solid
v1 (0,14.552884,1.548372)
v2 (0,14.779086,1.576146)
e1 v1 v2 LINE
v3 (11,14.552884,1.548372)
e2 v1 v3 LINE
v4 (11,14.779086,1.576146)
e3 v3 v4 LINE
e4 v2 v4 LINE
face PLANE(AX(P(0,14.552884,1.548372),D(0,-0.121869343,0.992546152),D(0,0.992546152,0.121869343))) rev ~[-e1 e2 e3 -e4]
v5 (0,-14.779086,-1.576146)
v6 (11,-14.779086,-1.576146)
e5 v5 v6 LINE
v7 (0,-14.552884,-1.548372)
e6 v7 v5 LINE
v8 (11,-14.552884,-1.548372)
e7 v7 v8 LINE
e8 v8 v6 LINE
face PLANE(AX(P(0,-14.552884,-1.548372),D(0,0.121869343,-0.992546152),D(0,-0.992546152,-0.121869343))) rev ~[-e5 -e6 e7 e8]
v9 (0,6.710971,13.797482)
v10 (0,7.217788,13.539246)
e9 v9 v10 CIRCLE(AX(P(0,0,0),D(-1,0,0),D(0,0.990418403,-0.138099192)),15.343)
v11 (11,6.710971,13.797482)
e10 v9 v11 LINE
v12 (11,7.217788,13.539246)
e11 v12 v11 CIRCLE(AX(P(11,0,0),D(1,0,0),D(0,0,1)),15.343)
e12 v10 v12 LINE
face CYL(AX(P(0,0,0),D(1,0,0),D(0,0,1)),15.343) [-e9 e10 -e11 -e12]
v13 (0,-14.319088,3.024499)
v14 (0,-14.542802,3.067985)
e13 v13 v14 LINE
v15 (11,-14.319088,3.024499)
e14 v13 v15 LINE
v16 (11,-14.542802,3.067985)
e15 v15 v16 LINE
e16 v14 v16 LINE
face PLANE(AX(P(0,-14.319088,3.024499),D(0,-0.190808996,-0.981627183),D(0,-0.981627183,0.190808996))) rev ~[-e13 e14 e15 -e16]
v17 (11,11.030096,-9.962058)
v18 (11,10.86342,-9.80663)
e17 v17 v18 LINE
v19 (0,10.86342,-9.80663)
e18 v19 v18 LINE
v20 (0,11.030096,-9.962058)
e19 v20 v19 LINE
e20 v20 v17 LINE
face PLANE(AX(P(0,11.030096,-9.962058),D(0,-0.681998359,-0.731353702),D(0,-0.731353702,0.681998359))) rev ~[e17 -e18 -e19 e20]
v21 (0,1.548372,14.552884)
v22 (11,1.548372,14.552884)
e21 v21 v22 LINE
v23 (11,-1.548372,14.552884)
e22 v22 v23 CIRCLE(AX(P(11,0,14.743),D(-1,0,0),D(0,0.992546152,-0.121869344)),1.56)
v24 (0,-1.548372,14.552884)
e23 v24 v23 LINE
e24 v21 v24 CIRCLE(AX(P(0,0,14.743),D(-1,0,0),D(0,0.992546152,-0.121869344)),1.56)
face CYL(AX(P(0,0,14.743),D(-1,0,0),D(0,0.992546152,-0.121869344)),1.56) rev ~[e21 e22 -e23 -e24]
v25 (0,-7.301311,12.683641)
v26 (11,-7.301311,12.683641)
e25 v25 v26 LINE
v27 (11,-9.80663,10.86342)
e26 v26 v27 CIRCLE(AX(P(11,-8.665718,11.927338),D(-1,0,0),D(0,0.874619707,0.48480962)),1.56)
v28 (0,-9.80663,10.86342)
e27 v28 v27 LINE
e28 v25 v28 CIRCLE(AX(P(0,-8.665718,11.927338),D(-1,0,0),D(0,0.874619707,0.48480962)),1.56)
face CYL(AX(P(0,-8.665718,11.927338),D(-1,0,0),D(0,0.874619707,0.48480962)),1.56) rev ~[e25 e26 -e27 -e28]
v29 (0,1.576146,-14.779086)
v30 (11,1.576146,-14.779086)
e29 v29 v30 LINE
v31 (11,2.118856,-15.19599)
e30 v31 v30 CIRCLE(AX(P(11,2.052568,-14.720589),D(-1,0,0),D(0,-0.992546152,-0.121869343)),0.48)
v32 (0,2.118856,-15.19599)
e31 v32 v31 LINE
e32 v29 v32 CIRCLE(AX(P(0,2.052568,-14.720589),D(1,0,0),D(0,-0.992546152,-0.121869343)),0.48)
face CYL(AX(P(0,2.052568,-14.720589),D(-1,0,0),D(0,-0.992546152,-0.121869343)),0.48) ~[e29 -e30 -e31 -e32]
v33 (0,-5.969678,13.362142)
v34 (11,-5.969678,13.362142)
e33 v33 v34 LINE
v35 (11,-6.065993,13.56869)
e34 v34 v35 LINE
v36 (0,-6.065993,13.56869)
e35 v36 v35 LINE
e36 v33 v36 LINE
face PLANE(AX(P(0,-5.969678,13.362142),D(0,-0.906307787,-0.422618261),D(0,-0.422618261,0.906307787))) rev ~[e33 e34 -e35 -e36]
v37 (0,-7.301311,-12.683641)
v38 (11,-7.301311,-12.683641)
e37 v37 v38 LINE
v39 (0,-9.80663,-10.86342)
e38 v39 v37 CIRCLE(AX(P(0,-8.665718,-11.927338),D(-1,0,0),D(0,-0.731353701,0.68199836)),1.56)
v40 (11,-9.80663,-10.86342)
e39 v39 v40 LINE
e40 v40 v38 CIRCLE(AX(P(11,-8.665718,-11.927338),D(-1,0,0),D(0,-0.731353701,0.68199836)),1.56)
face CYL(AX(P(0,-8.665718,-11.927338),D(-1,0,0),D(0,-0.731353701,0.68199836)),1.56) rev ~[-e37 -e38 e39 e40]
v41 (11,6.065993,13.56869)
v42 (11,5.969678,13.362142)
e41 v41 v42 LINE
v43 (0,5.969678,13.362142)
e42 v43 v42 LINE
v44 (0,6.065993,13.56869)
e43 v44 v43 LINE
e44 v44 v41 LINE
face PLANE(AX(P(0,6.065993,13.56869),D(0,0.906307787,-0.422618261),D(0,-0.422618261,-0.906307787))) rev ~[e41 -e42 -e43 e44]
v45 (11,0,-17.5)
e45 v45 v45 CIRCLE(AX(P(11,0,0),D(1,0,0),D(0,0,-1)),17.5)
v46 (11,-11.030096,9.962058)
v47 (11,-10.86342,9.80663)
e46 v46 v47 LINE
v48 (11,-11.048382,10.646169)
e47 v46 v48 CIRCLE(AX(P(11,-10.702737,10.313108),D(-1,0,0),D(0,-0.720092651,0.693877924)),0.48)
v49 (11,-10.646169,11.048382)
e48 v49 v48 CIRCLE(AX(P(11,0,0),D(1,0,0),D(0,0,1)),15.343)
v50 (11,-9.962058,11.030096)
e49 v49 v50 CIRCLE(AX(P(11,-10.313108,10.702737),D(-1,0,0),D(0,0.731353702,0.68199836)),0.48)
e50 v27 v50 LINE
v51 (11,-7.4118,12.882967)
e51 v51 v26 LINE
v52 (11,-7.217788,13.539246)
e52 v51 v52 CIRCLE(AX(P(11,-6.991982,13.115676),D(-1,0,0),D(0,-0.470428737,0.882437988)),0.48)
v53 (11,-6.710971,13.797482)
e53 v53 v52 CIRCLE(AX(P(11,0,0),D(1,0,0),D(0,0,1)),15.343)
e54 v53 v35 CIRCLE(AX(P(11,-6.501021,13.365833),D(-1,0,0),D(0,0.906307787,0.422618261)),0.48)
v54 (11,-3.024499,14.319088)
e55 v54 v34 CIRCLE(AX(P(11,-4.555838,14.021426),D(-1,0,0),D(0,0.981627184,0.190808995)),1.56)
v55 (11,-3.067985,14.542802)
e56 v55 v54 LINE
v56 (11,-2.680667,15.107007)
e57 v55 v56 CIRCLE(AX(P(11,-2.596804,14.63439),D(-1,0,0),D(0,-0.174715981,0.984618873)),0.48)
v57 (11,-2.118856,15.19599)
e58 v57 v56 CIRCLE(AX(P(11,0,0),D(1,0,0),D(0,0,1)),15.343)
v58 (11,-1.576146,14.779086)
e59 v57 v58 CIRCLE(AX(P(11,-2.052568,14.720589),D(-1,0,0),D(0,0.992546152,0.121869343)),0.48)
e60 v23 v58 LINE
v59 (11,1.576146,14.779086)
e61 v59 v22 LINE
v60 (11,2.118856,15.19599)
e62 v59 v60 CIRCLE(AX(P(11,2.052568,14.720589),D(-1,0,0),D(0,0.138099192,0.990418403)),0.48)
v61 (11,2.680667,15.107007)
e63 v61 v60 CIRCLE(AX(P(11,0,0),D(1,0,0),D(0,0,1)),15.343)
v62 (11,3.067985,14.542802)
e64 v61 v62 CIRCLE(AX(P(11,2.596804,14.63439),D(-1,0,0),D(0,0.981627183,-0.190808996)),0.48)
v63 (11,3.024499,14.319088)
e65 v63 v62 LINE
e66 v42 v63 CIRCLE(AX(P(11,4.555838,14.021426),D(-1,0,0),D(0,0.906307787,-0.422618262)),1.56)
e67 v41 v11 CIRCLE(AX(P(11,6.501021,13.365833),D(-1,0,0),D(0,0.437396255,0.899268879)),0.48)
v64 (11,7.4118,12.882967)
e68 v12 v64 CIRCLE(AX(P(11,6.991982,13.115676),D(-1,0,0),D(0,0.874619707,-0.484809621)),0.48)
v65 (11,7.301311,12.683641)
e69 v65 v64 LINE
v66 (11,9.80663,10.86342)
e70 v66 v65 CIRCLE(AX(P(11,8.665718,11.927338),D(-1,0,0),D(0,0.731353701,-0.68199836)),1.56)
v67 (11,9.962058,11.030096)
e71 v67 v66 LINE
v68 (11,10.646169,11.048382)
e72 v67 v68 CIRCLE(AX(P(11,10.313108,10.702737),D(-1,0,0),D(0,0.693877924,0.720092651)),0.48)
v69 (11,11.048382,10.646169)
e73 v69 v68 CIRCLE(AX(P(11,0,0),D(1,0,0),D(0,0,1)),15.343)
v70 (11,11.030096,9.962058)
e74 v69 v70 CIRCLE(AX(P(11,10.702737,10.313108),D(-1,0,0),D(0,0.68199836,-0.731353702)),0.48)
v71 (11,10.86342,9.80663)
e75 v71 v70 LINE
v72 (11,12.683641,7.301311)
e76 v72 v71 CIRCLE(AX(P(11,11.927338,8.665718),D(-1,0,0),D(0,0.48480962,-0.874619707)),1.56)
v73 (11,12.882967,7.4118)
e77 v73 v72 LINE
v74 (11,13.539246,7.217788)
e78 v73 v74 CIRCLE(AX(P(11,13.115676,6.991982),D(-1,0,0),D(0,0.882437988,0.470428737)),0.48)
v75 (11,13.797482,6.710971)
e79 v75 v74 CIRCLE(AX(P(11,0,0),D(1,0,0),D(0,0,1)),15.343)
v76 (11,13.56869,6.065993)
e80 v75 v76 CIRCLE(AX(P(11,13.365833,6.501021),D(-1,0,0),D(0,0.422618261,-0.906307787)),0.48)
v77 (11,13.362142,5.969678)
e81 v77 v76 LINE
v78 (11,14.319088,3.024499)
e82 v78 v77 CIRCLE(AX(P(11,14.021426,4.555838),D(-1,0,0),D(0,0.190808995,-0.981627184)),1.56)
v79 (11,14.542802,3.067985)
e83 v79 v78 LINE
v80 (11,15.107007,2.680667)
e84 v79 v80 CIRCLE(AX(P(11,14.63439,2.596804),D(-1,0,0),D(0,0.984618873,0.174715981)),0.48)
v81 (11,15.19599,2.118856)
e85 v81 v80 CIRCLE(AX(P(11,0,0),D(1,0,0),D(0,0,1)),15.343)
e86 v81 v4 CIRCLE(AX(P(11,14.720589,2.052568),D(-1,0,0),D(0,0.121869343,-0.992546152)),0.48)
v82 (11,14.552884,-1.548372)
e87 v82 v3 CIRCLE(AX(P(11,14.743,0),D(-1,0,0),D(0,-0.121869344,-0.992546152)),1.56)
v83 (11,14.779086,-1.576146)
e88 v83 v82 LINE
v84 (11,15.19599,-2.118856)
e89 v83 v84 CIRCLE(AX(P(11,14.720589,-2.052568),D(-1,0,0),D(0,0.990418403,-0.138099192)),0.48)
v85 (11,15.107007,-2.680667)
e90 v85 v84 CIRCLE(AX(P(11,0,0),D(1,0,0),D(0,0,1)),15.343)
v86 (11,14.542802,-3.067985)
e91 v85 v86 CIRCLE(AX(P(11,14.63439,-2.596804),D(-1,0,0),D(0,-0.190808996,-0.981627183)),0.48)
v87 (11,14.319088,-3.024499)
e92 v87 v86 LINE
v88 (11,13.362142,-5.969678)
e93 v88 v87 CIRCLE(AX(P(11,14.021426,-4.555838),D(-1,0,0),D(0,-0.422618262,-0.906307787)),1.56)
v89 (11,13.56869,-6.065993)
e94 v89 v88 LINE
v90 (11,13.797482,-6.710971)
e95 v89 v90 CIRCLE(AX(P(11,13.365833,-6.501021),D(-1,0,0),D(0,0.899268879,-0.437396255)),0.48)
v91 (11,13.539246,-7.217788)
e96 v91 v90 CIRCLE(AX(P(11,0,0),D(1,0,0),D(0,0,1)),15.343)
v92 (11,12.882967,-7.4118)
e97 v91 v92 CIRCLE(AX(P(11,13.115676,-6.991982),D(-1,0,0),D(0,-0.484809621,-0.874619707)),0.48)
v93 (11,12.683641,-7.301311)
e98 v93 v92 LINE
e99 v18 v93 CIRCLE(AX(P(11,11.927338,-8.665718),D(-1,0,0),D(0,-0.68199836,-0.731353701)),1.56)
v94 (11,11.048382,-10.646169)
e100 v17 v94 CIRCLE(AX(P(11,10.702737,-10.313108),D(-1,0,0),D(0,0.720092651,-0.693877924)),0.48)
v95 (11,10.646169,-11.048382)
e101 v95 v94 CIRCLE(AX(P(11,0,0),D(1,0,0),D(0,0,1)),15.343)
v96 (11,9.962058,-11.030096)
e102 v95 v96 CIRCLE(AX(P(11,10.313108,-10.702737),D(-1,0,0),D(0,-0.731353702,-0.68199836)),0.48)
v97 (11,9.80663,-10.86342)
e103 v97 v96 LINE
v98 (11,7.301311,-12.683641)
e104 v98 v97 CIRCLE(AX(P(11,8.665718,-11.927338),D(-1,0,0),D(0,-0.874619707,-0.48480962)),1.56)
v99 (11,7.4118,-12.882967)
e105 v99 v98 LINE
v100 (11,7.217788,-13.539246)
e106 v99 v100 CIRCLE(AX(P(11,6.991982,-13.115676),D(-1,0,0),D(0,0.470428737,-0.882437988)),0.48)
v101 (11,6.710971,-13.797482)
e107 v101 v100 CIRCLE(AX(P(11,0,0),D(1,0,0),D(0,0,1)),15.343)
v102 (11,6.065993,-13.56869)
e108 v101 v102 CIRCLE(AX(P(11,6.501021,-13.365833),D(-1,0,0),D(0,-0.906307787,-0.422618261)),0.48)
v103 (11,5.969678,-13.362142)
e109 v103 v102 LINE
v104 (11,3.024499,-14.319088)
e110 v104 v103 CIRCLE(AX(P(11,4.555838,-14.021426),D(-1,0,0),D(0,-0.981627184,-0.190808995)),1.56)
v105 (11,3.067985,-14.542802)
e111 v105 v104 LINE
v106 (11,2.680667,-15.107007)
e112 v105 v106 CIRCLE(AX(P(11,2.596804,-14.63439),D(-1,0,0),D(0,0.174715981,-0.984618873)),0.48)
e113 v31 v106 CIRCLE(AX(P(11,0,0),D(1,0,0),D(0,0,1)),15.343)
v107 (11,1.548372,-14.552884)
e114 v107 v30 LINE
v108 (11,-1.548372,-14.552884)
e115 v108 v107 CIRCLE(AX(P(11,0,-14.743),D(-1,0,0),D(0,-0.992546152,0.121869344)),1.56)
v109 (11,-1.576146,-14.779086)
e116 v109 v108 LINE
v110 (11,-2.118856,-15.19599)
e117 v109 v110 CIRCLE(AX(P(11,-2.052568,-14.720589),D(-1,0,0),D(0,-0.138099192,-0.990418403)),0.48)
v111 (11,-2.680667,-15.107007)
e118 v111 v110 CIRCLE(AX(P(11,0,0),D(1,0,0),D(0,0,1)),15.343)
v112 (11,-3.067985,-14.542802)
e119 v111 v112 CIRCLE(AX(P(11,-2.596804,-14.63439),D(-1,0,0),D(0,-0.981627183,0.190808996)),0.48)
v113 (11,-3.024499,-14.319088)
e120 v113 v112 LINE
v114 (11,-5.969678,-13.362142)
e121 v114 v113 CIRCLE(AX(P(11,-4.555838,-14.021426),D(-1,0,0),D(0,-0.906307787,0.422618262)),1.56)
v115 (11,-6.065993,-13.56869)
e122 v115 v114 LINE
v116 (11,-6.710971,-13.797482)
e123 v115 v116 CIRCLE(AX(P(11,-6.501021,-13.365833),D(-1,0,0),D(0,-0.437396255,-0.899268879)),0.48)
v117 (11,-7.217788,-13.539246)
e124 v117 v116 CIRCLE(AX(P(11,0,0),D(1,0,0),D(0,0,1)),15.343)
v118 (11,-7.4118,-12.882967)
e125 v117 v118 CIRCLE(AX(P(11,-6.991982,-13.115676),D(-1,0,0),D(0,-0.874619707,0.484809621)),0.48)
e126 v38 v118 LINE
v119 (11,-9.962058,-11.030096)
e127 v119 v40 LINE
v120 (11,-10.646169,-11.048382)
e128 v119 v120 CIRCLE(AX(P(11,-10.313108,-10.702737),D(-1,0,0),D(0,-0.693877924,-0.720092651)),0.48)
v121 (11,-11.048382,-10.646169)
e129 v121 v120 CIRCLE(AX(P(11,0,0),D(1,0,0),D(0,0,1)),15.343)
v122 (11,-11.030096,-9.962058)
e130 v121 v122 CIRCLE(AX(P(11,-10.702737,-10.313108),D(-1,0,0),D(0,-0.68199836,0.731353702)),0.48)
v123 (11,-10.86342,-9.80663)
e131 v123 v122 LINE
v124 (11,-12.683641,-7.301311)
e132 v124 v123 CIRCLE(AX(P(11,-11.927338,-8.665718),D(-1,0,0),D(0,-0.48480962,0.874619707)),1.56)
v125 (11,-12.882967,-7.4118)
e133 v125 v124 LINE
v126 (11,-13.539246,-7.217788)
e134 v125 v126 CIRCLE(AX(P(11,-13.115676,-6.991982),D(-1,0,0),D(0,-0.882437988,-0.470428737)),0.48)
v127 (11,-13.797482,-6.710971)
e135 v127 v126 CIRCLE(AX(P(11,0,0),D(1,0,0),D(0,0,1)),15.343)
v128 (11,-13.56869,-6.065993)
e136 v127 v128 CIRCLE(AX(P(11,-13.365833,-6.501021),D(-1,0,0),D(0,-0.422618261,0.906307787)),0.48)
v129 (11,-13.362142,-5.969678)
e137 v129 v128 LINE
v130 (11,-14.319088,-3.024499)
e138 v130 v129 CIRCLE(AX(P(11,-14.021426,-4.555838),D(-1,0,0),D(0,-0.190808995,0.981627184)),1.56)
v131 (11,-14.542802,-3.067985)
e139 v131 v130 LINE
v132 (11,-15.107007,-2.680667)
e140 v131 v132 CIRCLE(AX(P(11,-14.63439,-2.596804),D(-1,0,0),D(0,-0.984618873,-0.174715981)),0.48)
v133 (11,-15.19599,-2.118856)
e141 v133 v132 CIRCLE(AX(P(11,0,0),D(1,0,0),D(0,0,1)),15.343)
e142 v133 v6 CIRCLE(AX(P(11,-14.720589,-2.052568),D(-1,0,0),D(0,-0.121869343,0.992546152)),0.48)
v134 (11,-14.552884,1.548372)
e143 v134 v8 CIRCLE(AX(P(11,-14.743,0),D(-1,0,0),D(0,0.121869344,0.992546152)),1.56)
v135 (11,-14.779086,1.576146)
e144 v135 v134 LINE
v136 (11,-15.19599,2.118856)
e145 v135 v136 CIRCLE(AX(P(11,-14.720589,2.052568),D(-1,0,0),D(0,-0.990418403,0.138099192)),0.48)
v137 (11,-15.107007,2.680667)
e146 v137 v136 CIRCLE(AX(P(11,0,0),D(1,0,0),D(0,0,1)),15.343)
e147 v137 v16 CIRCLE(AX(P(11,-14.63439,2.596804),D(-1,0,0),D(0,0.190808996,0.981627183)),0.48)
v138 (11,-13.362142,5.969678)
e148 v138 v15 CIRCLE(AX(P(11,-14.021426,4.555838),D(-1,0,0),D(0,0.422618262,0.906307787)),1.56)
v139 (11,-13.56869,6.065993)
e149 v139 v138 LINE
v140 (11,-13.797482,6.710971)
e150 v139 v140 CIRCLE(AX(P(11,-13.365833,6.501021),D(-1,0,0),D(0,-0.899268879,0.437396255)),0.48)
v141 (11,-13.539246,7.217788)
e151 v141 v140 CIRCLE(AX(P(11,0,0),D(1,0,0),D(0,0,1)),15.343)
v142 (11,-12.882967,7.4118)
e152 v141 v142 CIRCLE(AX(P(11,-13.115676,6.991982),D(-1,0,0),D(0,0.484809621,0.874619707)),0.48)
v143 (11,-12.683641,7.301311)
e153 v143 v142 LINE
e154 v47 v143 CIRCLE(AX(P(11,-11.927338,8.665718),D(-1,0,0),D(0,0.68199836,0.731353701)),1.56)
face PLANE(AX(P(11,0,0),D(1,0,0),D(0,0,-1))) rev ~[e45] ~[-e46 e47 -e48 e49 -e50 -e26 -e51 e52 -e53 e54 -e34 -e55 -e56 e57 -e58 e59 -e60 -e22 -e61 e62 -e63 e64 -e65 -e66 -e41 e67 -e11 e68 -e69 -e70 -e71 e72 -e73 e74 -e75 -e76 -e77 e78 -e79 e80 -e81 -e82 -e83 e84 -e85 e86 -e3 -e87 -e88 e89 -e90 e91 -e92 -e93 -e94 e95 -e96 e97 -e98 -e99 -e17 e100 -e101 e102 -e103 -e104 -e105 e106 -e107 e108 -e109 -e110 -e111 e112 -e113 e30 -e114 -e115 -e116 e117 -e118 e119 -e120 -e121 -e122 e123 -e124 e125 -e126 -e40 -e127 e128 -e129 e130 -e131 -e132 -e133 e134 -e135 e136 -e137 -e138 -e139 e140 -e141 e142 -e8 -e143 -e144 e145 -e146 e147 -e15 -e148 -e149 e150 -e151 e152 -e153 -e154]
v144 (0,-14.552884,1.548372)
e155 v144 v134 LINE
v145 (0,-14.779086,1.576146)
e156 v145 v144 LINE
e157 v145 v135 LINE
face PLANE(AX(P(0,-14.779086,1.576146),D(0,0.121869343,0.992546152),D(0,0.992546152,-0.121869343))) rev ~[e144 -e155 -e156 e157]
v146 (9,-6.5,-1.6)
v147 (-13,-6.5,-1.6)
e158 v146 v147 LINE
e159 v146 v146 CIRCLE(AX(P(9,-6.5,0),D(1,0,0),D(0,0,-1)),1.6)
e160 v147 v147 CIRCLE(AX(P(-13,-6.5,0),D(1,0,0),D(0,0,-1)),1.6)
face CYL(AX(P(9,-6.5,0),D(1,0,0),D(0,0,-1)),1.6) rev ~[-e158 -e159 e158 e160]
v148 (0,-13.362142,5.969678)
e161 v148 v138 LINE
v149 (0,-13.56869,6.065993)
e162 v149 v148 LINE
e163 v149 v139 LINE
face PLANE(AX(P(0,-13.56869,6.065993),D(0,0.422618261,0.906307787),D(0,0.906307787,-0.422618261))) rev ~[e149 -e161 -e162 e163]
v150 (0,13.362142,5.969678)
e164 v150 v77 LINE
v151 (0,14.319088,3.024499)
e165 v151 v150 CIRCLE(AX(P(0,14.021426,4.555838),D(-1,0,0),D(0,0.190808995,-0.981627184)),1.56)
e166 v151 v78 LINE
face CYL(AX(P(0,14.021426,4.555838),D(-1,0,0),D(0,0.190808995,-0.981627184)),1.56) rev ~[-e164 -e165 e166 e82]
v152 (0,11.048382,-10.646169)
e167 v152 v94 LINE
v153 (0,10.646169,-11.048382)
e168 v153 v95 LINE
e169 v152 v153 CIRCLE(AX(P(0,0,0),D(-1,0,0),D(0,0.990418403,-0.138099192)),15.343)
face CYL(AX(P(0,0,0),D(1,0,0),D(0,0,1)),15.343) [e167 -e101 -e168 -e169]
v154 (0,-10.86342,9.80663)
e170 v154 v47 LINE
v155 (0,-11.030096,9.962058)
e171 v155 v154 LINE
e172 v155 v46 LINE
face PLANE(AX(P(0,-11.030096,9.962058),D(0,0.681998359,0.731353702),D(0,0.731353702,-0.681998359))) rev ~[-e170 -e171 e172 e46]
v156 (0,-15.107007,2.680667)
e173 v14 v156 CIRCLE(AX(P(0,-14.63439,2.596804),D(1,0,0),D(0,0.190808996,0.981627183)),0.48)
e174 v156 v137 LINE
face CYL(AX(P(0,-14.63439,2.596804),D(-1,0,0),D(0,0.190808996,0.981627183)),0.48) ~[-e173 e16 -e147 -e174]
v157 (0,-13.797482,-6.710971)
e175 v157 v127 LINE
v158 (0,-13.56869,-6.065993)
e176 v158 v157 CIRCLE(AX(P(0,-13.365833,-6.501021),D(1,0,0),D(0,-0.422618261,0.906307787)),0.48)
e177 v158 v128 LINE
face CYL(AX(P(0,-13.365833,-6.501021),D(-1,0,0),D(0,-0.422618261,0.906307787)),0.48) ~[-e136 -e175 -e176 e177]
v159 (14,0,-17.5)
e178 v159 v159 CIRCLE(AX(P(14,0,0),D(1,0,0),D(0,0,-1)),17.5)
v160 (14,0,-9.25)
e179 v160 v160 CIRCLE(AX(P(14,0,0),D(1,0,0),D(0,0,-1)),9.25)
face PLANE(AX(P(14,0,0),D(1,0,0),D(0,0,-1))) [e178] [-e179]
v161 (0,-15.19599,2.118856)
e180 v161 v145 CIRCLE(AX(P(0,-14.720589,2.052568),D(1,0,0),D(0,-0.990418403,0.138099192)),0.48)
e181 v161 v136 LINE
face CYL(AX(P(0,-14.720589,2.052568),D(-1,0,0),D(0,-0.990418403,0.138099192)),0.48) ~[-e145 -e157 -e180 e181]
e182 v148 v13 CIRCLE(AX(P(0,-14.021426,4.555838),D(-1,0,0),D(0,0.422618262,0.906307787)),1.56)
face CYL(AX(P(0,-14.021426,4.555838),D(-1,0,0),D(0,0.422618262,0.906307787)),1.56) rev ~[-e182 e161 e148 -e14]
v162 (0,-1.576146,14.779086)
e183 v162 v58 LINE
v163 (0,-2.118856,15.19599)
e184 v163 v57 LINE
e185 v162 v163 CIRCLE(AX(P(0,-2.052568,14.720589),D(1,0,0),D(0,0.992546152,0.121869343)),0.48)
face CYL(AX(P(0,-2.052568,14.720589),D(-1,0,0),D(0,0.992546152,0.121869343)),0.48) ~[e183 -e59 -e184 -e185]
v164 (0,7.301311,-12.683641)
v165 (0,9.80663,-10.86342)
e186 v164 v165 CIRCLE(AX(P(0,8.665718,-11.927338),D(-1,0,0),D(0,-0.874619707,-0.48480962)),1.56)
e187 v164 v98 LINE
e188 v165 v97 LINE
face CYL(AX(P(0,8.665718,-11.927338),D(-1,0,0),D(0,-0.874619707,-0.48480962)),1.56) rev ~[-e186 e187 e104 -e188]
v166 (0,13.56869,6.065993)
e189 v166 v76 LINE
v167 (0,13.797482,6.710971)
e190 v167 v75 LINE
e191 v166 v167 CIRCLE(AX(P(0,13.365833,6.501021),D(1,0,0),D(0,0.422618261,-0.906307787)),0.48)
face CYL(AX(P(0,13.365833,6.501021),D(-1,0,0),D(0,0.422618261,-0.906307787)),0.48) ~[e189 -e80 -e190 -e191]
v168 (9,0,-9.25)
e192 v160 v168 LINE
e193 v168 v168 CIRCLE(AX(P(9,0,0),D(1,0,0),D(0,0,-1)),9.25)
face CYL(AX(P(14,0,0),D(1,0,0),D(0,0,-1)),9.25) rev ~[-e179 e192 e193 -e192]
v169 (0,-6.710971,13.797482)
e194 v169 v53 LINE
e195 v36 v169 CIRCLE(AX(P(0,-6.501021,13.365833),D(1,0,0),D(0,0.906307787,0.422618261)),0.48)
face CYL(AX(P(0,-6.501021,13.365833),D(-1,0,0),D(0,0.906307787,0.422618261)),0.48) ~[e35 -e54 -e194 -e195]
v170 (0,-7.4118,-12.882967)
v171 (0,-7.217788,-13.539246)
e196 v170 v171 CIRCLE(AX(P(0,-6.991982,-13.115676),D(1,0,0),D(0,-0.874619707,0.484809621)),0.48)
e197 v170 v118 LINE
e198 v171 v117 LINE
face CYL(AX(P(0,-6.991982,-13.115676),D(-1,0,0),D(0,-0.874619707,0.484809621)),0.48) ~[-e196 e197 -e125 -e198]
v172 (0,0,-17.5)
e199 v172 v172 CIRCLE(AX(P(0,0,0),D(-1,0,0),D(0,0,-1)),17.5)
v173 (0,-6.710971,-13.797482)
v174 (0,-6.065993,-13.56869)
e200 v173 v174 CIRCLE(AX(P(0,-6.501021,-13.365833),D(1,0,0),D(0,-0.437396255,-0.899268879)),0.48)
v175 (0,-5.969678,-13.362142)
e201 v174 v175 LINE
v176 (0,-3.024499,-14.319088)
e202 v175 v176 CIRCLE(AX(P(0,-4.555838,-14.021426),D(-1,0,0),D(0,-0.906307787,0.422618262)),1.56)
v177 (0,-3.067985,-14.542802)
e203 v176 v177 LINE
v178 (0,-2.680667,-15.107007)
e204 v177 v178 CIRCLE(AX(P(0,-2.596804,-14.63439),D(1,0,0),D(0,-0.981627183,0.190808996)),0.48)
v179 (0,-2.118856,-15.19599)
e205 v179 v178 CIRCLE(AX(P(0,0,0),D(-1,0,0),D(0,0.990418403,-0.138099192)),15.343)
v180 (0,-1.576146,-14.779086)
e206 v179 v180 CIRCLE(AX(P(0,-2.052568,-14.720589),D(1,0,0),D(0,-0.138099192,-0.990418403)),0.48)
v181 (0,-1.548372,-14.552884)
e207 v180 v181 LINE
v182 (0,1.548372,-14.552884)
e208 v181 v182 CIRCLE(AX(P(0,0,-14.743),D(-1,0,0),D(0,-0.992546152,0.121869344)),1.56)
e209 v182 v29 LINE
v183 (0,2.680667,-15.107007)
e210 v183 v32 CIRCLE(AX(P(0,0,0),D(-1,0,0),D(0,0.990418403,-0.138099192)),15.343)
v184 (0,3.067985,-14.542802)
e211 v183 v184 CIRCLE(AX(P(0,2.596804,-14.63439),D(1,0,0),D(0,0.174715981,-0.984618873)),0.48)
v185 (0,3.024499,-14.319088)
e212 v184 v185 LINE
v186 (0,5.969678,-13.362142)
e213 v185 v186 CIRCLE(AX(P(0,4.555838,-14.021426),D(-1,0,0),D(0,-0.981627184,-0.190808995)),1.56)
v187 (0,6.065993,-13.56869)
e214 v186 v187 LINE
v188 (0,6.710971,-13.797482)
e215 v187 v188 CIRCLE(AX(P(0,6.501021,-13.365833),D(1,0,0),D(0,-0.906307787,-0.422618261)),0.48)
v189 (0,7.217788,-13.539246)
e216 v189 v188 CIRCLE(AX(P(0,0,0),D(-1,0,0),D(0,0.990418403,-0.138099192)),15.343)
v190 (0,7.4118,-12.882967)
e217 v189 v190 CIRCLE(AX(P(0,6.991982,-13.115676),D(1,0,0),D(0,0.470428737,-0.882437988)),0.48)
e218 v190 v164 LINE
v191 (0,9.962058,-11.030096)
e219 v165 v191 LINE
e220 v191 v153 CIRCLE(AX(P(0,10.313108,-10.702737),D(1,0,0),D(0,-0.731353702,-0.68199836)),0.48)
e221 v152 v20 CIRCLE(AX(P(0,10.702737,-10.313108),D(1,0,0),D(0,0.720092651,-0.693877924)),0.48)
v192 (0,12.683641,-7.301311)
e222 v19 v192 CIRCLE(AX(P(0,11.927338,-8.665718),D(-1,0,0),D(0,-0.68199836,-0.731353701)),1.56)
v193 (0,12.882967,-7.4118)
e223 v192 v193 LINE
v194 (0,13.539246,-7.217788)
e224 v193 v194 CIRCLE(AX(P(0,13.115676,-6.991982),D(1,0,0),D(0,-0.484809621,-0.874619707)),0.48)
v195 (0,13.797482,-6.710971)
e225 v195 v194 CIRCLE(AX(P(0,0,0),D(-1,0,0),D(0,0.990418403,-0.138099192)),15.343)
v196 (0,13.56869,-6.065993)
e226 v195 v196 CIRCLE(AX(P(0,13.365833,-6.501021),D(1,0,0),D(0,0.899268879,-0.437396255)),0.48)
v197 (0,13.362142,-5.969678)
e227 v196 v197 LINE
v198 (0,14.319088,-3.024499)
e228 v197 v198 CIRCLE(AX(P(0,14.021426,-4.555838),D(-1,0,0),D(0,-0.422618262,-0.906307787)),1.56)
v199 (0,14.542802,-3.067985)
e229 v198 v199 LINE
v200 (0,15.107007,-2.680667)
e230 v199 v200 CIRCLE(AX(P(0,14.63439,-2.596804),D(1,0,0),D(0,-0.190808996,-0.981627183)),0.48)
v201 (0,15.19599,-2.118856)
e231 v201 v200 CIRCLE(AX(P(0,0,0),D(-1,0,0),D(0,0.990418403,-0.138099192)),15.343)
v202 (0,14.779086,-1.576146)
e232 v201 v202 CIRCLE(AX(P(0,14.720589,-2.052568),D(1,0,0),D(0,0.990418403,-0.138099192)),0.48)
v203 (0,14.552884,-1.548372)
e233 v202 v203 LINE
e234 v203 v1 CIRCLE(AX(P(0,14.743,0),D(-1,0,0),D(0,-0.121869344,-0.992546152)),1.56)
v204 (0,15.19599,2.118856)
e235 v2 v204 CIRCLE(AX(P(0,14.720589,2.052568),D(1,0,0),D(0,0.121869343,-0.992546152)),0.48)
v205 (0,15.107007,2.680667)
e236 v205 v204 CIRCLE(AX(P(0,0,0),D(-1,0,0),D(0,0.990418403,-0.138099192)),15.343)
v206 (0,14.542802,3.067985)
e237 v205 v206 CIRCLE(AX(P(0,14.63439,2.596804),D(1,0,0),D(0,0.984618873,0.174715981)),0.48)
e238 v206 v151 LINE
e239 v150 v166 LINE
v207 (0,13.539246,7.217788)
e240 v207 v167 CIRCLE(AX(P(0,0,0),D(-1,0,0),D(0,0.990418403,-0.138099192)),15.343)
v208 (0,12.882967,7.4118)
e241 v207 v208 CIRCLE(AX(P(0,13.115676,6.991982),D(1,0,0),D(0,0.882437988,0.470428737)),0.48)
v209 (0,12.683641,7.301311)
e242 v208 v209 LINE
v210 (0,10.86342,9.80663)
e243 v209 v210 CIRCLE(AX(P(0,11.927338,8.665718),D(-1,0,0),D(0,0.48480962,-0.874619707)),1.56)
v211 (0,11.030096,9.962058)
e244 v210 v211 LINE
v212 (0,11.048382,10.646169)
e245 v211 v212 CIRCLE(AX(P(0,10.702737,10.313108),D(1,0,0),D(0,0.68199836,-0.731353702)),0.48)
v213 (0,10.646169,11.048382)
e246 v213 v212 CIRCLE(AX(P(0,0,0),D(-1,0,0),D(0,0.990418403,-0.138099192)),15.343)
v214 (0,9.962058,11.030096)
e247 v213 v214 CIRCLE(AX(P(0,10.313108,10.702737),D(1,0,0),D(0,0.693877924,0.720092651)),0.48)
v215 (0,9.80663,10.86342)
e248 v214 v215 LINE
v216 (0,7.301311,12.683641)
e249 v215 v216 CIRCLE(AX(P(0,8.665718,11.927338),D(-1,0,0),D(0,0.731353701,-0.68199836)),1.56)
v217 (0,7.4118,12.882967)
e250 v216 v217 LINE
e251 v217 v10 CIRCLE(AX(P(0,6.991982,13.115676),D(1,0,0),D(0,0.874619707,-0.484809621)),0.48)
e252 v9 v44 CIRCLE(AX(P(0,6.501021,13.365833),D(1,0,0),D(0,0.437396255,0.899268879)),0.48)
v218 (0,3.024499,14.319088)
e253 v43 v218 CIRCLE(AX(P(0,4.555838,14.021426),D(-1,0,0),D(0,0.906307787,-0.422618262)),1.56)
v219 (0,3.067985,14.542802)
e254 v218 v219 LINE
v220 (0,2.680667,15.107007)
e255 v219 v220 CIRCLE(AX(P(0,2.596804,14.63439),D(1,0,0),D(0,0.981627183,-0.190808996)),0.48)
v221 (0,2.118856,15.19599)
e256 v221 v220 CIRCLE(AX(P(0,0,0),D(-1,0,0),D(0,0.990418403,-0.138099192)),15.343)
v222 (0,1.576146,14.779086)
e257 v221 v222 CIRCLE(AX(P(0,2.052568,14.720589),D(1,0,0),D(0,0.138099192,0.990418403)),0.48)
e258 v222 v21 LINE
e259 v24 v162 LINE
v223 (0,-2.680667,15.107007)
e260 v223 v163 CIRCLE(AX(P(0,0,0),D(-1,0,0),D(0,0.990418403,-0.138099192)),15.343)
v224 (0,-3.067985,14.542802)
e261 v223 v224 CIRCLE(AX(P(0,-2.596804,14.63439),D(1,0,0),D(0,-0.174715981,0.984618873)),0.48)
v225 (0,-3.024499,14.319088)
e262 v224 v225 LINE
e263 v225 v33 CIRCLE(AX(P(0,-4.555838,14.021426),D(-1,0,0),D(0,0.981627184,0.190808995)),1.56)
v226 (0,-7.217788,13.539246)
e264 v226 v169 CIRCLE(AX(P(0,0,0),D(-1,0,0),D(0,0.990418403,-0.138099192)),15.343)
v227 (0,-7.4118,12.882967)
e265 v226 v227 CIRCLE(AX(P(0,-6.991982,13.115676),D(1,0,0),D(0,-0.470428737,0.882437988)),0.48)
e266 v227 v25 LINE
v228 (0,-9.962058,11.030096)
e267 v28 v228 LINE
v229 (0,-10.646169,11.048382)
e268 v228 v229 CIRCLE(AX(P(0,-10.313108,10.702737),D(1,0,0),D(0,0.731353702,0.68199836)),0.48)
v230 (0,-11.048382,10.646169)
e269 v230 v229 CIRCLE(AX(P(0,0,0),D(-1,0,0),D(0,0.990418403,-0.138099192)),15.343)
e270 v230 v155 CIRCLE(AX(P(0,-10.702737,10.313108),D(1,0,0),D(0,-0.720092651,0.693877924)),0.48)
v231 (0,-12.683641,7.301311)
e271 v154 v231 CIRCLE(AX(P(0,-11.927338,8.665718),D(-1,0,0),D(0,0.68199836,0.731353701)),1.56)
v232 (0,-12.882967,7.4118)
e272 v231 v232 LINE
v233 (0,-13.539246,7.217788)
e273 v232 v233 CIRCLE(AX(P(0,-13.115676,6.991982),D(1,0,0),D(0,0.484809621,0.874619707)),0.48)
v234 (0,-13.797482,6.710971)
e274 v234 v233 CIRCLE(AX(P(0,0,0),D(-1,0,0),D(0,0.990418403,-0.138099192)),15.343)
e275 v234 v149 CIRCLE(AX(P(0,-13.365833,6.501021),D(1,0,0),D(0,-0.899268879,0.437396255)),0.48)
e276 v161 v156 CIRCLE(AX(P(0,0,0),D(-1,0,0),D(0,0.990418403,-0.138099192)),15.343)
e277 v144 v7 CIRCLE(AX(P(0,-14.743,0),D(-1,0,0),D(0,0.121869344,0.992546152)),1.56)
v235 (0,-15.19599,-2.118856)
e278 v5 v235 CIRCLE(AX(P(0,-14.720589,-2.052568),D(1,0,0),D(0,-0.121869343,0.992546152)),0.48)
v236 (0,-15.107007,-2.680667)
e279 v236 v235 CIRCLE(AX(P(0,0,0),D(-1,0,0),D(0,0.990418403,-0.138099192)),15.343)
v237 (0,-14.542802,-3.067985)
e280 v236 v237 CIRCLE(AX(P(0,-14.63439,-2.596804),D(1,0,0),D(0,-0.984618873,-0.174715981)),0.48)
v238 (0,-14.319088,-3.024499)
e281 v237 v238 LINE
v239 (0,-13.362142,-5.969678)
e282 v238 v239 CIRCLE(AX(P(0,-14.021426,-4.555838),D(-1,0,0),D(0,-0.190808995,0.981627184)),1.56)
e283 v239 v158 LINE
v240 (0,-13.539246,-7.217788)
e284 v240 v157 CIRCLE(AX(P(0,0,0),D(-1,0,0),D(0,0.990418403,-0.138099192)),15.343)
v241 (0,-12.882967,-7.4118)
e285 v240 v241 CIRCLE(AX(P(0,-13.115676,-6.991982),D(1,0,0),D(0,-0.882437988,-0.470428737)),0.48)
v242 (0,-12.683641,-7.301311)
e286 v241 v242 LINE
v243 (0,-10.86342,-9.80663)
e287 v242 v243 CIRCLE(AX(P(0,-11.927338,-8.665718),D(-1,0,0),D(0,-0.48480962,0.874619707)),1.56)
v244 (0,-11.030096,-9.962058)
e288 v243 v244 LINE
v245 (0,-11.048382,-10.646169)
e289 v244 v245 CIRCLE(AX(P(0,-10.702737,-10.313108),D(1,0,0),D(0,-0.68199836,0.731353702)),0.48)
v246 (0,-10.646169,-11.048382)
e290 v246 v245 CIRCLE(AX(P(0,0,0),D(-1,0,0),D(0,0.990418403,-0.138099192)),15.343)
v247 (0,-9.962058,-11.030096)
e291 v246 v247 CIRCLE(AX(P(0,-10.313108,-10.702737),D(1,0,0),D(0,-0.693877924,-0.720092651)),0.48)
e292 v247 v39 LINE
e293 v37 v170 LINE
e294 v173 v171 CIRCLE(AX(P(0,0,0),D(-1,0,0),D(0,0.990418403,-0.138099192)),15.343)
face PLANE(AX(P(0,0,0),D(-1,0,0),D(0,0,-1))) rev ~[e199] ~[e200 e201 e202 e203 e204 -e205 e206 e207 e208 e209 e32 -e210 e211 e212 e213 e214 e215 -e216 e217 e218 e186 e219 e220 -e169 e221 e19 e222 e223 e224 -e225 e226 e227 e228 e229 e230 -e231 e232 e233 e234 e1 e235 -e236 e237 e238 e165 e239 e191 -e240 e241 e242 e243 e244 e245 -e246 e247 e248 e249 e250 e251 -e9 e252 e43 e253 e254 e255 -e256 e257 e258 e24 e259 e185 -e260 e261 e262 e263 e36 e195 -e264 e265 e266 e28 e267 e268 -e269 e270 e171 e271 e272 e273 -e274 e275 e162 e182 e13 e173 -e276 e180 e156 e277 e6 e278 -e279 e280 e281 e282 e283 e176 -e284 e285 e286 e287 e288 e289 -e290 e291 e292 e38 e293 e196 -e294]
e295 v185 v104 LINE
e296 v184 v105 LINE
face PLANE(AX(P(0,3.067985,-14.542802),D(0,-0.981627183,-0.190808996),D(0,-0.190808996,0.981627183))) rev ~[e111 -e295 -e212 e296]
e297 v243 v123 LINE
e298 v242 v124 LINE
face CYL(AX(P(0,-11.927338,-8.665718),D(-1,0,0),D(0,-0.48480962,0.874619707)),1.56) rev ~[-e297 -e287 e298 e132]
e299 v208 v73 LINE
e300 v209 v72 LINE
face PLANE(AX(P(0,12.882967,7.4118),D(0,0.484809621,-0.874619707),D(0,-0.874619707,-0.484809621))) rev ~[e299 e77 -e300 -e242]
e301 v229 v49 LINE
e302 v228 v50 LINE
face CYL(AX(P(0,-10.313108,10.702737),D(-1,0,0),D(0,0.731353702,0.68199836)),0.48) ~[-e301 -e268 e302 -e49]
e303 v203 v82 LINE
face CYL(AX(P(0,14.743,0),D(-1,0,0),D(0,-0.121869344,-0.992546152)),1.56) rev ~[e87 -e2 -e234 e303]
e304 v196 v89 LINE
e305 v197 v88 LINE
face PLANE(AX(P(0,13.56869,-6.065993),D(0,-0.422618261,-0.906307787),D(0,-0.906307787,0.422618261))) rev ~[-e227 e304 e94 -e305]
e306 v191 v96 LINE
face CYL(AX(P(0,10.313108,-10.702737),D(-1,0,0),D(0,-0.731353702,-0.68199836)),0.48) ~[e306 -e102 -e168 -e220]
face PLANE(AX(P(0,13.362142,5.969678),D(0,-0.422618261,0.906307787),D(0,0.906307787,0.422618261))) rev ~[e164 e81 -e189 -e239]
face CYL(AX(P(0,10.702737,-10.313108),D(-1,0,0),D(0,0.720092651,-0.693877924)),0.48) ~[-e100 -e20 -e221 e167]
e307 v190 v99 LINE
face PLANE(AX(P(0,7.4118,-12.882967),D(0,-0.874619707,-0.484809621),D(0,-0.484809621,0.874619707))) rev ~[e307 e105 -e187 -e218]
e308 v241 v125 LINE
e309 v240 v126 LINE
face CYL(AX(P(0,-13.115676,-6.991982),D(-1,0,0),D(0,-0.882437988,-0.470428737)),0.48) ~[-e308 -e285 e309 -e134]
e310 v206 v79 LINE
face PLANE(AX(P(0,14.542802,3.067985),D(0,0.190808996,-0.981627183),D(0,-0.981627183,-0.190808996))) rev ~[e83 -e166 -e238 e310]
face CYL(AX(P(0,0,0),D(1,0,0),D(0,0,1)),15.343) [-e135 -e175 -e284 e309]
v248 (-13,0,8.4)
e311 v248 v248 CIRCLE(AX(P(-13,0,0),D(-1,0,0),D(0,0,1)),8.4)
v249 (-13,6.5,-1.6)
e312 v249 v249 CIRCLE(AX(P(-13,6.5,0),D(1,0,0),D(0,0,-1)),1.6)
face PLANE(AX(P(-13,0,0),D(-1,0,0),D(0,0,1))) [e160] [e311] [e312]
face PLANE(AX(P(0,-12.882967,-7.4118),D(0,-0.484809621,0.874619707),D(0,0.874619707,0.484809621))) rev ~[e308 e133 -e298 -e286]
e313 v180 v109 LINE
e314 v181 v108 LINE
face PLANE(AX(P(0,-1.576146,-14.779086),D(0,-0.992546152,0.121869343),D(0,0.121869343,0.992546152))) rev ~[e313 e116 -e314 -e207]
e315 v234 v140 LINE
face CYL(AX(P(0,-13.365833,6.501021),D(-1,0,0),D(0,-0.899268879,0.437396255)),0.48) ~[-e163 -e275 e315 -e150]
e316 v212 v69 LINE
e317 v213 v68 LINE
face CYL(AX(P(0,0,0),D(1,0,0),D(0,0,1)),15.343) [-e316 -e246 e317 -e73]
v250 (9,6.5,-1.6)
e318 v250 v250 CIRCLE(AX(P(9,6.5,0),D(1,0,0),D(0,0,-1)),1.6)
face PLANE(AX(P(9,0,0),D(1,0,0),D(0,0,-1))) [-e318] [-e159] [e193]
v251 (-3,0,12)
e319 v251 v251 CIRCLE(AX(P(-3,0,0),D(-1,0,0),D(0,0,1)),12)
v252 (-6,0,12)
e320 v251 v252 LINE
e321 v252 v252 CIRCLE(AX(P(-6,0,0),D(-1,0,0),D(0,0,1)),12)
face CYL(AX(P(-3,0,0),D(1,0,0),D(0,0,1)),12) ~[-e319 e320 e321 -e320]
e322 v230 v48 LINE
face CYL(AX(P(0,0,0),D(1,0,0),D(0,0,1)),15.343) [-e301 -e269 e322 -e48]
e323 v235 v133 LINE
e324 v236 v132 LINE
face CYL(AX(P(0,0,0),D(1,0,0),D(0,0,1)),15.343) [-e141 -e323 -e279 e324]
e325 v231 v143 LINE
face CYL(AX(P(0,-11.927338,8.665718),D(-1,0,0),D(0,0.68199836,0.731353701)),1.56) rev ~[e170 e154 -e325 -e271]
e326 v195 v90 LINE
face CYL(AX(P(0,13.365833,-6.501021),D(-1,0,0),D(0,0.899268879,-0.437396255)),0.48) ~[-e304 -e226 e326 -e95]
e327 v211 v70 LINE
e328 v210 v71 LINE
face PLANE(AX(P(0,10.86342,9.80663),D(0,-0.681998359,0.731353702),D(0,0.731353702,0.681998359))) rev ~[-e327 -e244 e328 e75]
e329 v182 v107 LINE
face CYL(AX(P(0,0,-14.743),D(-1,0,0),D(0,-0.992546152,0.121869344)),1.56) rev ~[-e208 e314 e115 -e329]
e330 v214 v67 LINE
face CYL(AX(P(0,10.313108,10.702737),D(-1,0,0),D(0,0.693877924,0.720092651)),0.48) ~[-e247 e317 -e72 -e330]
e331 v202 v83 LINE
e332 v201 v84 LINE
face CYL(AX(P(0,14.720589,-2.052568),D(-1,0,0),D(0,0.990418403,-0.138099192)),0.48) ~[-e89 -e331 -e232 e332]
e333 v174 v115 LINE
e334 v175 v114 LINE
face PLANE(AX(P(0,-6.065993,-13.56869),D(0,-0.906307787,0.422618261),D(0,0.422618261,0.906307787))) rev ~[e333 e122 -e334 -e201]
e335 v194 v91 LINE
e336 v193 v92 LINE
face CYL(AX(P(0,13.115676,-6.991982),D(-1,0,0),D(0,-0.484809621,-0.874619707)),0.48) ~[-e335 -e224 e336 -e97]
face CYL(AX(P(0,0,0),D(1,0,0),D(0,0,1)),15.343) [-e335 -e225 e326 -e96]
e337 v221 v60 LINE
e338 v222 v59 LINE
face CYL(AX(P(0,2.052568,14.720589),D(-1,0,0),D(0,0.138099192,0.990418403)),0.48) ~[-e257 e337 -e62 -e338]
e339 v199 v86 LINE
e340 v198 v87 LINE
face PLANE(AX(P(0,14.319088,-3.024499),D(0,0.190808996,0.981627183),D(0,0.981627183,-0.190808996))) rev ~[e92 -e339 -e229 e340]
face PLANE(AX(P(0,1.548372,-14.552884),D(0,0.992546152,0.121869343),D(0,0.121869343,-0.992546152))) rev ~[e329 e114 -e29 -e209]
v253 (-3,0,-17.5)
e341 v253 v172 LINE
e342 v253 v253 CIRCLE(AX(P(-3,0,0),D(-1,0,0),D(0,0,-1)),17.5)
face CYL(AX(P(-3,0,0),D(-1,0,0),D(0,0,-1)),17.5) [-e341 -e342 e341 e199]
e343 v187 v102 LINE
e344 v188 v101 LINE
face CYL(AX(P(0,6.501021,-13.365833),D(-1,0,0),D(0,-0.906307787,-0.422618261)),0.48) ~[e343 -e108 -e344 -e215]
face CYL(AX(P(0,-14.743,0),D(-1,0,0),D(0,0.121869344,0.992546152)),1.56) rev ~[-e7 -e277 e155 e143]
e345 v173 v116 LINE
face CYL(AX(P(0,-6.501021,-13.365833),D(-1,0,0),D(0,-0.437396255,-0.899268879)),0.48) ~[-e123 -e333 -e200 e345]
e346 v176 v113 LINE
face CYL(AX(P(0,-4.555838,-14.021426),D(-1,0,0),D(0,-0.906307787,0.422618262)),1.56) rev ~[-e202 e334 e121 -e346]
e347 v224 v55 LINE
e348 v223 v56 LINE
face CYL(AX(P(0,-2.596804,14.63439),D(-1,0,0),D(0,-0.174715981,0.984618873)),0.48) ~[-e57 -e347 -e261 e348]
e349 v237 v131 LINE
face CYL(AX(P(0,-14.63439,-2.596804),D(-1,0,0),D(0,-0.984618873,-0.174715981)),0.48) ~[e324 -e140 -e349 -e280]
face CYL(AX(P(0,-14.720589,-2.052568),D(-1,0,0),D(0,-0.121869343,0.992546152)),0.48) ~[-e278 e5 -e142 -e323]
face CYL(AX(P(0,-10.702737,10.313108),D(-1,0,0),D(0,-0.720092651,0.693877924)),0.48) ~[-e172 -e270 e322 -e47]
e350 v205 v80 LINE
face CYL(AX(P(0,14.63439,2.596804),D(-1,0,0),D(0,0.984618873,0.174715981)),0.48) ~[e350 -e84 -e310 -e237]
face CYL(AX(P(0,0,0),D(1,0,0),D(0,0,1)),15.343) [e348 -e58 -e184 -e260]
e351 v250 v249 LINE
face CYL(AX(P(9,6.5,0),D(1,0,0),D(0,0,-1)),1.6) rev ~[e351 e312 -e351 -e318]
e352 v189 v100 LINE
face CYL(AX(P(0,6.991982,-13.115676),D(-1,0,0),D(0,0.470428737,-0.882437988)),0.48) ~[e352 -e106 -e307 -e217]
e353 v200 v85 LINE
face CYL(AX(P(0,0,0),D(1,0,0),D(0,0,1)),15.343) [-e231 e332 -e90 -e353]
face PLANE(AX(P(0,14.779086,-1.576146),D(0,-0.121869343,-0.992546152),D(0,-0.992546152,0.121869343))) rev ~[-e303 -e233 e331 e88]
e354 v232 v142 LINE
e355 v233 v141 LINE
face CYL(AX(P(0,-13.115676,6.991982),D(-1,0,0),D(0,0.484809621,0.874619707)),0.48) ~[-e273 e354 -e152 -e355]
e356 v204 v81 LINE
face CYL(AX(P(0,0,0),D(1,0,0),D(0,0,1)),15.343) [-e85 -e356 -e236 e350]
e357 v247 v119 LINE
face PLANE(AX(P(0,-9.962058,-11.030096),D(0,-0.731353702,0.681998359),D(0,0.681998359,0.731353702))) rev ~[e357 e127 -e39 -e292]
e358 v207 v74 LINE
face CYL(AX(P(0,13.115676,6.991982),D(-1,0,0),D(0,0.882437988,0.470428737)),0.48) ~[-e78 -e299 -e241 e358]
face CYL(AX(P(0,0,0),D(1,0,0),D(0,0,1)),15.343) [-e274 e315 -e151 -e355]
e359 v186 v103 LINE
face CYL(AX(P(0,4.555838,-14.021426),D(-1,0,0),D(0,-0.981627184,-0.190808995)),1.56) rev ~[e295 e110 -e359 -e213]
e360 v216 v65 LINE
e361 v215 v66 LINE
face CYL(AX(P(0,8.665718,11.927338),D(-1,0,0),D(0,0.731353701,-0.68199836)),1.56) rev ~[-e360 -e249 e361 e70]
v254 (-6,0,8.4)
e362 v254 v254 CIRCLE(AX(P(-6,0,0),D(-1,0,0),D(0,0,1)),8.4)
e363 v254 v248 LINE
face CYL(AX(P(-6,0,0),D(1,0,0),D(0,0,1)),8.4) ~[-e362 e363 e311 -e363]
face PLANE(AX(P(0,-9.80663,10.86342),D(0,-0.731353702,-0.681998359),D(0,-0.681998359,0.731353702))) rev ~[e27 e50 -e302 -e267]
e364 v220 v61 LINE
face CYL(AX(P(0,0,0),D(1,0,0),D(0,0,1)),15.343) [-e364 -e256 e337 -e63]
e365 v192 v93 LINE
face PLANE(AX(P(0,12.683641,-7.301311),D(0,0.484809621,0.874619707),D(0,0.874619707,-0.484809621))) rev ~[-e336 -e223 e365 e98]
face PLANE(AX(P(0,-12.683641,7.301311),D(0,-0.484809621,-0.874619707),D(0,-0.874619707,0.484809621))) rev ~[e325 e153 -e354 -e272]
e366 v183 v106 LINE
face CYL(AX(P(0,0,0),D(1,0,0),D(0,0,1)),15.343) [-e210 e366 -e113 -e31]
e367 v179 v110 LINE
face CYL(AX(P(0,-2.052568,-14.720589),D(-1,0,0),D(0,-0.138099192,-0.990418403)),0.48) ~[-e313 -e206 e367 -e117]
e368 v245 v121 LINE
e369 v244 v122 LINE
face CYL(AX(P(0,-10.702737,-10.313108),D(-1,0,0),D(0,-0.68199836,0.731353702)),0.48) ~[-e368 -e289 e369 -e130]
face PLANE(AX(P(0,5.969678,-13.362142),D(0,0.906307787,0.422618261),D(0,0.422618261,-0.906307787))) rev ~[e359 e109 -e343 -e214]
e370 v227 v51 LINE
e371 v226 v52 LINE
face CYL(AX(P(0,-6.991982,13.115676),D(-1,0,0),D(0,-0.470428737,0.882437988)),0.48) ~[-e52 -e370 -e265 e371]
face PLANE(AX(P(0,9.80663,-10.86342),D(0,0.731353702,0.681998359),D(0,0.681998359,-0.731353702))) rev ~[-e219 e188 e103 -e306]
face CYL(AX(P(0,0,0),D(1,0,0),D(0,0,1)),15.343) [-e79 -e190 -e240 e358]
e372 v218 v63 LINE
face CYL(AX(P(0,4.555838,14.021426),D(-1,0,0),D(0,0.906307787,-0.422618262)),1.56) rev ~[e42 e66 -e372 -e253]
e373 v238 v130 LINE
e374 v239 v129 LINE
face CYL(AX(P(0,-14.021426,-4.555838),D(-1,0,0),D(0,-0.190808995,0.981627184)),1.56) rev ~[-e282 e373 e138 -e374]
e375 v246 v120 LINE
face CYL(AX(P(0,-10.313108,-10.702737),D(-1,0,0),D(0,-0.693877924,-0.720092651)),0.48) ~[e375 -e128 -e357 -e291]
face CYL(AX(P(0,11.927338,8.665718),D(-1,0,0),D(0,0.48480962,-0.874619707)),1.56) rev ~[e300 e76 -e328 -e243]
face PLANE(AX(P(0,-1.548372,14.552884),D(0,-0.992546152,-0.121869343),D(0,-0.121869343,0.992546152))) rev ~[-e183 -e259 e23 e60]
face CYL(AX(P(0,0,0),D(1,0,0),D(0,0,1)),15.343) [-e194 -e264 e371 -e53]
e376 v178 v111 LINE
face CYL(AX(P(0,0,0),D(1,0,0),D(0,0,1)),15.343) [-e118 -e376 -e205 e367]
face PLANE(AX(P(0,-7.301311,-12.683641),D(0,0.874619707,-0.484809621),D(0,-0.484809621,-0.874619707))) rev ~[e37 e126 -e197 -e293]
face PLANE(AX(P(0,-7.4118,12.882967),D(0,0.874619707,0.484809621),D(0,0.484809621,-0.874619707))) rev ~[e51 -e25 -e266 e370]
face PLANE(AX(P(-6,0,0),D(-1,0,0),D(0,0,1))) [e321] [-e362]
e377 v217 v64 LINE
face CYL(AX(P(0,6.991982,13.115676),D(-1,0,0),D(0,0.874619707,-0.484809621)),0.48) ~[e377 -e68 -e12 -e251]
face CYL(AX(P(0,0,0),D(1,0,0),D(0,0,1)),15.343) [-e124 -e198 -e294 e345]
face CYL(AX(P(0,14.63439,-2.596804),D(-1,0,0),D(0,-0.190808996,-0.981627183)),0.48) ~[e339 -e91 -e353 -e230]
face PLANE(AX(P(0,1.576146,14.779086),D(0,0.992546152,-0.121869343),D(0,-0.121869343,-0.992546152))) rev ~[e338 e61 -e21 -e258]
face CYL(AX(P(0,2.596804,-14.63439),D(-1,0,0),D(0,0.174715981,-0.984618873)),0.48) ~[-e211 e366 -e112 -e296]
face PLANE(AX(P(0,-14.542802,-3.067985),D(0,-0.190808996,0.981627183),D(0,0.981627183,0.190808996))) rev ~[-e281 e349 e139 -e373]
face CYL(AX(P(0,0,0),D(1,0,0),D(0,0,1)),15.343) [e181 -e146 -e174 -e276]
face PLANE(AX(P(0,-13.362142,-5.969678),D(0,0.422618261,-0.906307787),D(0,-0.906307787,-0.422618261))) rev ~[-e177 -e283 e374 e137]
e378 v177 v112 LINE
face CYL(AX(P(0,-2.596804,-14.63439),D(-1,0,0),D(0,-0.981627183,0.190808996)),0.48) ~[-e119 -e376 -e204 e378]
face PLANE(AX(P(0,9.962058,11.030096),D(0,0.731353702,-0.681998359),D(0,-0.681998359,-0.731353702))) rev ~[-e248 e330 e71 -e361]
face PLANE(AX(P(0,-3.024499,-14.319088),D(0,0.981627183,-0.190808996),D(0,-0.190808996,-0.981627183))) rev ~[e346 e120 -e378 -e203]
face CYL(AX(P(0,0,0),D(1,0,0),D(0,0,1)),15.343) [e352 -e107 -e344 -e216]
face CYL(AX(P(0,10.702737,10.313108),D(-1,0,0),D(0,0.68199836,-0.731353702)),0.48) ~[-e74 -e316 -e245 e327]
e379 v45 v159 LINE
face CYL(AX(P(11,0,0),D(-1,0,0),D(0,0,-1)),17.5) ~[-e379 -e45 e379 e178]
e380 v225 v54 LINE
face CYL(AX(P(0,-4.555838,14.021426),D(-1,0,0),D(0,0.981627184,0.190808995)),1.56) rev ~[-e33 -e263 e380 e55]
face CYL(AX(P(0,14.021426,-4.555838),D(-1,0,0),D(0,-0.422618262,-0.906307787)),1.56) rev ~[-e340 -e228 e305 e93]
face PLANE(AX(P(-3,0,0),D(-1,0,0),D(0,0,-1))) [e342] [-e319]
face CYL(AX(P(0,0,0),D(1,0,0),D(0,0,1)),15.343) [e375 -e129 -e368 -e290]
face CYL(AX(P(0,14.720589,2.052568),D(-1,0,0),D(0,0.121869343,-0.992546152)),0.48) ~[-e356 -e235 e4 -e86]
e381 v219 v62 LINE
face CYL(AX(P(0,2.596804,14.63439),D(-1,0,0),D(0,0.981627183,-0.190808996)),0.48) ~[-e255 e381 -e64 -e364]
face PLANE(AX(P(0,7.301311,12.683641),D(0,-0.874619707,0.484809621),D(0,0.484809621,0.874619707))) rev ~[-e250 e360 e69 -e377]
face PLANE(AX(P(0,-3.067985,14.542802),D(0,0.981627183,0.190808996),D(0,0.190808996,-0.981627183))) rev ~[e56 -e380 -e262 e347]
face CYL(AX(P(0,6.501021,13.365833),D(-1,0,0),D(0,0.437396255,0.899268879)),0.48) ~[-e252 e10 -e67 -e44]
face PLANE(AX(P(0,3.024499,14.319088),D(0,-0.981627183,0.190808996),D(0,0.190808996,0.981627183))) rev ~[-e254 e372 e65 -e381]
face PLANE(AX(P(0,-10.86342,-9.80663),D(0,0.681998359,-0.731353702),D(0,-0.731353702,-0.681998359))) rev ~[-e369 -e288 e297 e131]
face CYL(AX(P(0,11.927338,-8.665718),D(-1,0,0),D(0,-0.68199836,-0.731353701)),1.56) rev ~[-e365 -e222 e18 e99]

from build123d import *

# Parameters (mm, degrees)
CHAMFER_1_SIZE           = 1
SKETCH_4_W               = 2
SKETCH_4_H               = 1
CUT_EXTRUDE_1_DEPTH      = 36.4233722
CUT_EXTRUDE_2_REACH      = 37.423
PATTERN_CIRCULAR_3_COUNT = 20
SKETCH_8_R               = 17.530868232
CUT_EXTRUDE_3_DEPTH      = 17
SKETCH_9_R               = 7.01145328
EXTRUDE_1_DEPTH          = 11
SKETCH_10_R              = 17.5
EXTRUDE_2_DEPTH          = 3
EXTRUDE_START            = 3
SKETCH_11_R              = 17.5
EXTRUDE_3_DEPTH          = 3
SKETCH_12_R              = 9.25
CUT_EXTRUDE_4_DEPTH      = 5
SKETCH_13_R              = 1.6
CUT_EXTRUDE_5_DEPTH      = 28.504545079
SKETCH_14_R              = 12
SKETCH_14_R_2            = 3.5
SKETCH_14_R_3            = 1.6
EXTRUDE_4_DEPTH          = 3
SKETCH_17_R              = 8.4
EXTRUDE_6_DEPTH          = 7
SKETCH_18_R              = 1.6
CUT_EXTRUDE_7_DEPTH      = 34.11344138


with BuildPart() as part:
    # 草图1 → 旋转1 (revolve)
    with BuildSketch(Plane.XY, mode=Mode.PRIVATE) as revolve_1_sk:
        Polygon((0, 3.0686), (0, 15.343), (28, 15.343), (28, 6.1372), (20, 6.1372), (20, 3.0686), align=None)
    revolve(revolve_1_sk.sketch.rotate(Axis((0, 0, 0), (1, 0, 0)), 90), axis=Axis((0, 0, 0), (1, 0, 0)))

    # 倒角1
    chamfer_1_edges = [part.edges().sort_by_distance(p)[0] for p in [
        (20, 0, -3.0686),
        (0, 0, -3.0686),
    ]]
    chamfer(chamfer_1_edges, length=CHAMFER_1_SIZE)

    # 草图4 → 切除-拉伸1 (cut, through all)
    with BuildSketch(Plane.ZY):
        with Locations((0, 3.401087031)):
            Rectangle(SKETCH_4_W, SKETCH_4_H)
    extrude(amount=-CUT_EXTRUDE_1_DEPTH, mode=Mode.SUBTRACT)

    # 草图6 → 切除-拉伸2 (cut, up to next)
    with BuildSketch(Plane(origin=(0, 0, 0), x_dir=(0, 0, -1), z_dir=(1, 0, 0)), mode=Mode.PRIVATE) as cut_extrude_2_sk1:
        with BuildLine():
            Line((1.576146133, 14.779086011), (1.548371997, 14.552883824))
            ThreePointArc((1.548371997, 14.552883824), (0, 13.183), (-1.548371997, 14.552883824))
            Line((-1.548371997, 14.552883824), (-1.576146133, 14.779086011))
            ThreePointArc((-1.576146133, 14.779086011), (-1.760156371, 15.101239842), (-2.118855897, 15.195989559))
            ThreePointArc((-2.118855897, 15.195989559), (-2.356297075, 15.160986547), (-2.593161675, 15.122273689))
            Line((-2.593161675, 15.122273689), (-6.402553611, 46.147281297))
            ThreePointArc((-6.402553611, 46.147281297), (0, 46.589314911), (6.402553611, 46.147281297))
            Line((6.402553611, 46.147281297), (2.593161675, 15.122273689))
            ThreePointArc((2.593161675, 15.122273689), (2.356297075, 15.160986547), (2.118855897, 15.195989559))
            ThreePointArc((2.118855897, 15.195989559), (1.760156371, 15.101239842), (1.576146133, 14.779086011))
        make_face()
    cut_extrude_2_tool1 = extrude(cut_extrude_2_sk1.sketch, amount=CUT_EXTRUDE_2_REACH, mode=Mode.PRIVATE) & part.part
    cut_extrude_2 = cut_extrude_2_tool1.solids().sort_by_distance((0, 32.67982, 0))[0]
    add(cut_extrude_2, mode=Mode.SUBTRACT)

    # 阵列(圆周)3: 切除-拉伸2 ×20 about axis
    pattern_circular_3_axis = Axis((0, 0, 0), (1, 0, 0))
    for i in range(1, PATTERN_CIRCULAR_3_COUNT):
        add(cut_extrude_2.rotate(pattern_circular_3_axis, i * 360 / PATTERN_CIRCULAR_3_COUNT), mode=Mode.SUBTRACT)

    # 草图8 → 切除-拉伸3 (cut)
    with BuildSketch(Plane(origin=(28, 0, 0), x_dir=(0, 0, -1), z_dir=(1, 0, 0))):
        Circle(SKETCH_8_R)
    extrude(amount=-CUT_EXTRUDE_3_DEPTH, mode=Mode.SUBTRACT)

    # 草图9 → 凸台-拉伸1 (add)
    with BuildSketch(Plane(origin=(11, 0, 0), x_dir=(0, 0, -1), z_dir=(1, 0, 0))):
        Circle(SKETCH_9_R)
    extrude(amount=-EXTRUDE_1_DEPTH)

    # 草图10 → 凸台-拉伸2 (add)
    with BuildSketch(Plane(origin=(11, 0, 0), x_dir=(0, 0, -1), z_dir=(1, 0, 0))):
        Circle(SKETCH_10_R)
    extrude(amount=EXTRUDE_2_DEPTH)

    # 草图11 → 凸台-拉伸3 (add)
    with BuildSketch(Plane.ZY.offset(EXTRUDE_START)):
        with Locations(Location((0, 0, 0), (0, 0, 180))):
            Circle(SKETCH_11_R)
    extrude(amount=-EXTRUDE_3_DEPTH)

    # 草图12 → 切除-拉伸4 (cut)
    with BuildSketch(Plane(origin=(14, 0, 0), x_dir=(0, 0, -1), z_dir=(1, 0, 0))):
        Circle(SKETCH_12_R)
    extrude(amount=-CUT_EXTRUDE_4_DEPTH, mode=Mode.SUBTRACT)

    # 草图13 → 切除-拉伸5 (cut, through all)
    with BuildSketch(Plane(origin=(9, 0, 0), x_dir=(0, 0, -1), z_dir=(1, 0, 0))):
        with Locations((0, 6.5)):
            Circle(SKETCH_13_R)
        with Locations((0, -6.5)):
            Circle(SKETCH_13_R)
    extrude(amount=-CUT_EXTRUDE_5_DEPTH, mode=Mode.SUBTRACT)

    # 草图14 → 凸台-拉伸4 (add)
    # profile 1 of 3: a face of its own
    with BuildSketch(Plane.ZY.offset(3)):
        Circle(SKETCH_14_R)
        with Locations((0, -6.5)):
            Circle(SKETCH_14_R_2, mode=Mode.SUBTRACT)
        with Locations((0, 6.5)):
            Circle(SKETCH_14_R_2, mode=Mode.SUBTRACT)
    # profile 2 of 3: a face of its own
    with BuildSketch(Plane.ZY.offset(3)):
        with Locations((0, 6.5)):
            Circle(SKETCH_14_R_2)
        with Locations(Location((0, 6.5, 0), (0, 0, 180))):
            Circle(SKETCH_14_R_3, mode=Mode.SUBTRACT)
    # profile 3 of 3: a face of its own
    with BuildSketch(Plane.ZY.offset(3)):
        with Locations((0, -6.5)):
            Circle(SKETCH_14_R_2)
        with Locations(Location((0, -6.5, 0), (0, 0, 180))):
            Circle(SKETCH_14_R_3, mode=Mode.SUBTRACT)
    extrude(amount=EXTRUDE_4_DEPTH)

    # 草图17 → 凸台-拉伸6 (add)
    with BuildSketch(Plane.ZY.offset(6)):
        Circle(SKETCH_17_R)
    extrude(amount=EXTRUDE_6_DEPTH)

    # 草图18 → 切除-拉伸7 (cut, through all)
    with BuildSketch(Plane(origin=(9, 0, 0), x_dir=(0, 0, -1), z_dir=(1, 0, 0))):
        with Locations((0, 6.5)):
            Circle(SKETCH_18_R)
        with Locations((0, -6.5)):
            Circle(SKETCH_18_R)
    extrude(amount=-CUT_EXTRUDE_7_DEPTH, mode=Mode.SUBTRACT)


solid = part.part
